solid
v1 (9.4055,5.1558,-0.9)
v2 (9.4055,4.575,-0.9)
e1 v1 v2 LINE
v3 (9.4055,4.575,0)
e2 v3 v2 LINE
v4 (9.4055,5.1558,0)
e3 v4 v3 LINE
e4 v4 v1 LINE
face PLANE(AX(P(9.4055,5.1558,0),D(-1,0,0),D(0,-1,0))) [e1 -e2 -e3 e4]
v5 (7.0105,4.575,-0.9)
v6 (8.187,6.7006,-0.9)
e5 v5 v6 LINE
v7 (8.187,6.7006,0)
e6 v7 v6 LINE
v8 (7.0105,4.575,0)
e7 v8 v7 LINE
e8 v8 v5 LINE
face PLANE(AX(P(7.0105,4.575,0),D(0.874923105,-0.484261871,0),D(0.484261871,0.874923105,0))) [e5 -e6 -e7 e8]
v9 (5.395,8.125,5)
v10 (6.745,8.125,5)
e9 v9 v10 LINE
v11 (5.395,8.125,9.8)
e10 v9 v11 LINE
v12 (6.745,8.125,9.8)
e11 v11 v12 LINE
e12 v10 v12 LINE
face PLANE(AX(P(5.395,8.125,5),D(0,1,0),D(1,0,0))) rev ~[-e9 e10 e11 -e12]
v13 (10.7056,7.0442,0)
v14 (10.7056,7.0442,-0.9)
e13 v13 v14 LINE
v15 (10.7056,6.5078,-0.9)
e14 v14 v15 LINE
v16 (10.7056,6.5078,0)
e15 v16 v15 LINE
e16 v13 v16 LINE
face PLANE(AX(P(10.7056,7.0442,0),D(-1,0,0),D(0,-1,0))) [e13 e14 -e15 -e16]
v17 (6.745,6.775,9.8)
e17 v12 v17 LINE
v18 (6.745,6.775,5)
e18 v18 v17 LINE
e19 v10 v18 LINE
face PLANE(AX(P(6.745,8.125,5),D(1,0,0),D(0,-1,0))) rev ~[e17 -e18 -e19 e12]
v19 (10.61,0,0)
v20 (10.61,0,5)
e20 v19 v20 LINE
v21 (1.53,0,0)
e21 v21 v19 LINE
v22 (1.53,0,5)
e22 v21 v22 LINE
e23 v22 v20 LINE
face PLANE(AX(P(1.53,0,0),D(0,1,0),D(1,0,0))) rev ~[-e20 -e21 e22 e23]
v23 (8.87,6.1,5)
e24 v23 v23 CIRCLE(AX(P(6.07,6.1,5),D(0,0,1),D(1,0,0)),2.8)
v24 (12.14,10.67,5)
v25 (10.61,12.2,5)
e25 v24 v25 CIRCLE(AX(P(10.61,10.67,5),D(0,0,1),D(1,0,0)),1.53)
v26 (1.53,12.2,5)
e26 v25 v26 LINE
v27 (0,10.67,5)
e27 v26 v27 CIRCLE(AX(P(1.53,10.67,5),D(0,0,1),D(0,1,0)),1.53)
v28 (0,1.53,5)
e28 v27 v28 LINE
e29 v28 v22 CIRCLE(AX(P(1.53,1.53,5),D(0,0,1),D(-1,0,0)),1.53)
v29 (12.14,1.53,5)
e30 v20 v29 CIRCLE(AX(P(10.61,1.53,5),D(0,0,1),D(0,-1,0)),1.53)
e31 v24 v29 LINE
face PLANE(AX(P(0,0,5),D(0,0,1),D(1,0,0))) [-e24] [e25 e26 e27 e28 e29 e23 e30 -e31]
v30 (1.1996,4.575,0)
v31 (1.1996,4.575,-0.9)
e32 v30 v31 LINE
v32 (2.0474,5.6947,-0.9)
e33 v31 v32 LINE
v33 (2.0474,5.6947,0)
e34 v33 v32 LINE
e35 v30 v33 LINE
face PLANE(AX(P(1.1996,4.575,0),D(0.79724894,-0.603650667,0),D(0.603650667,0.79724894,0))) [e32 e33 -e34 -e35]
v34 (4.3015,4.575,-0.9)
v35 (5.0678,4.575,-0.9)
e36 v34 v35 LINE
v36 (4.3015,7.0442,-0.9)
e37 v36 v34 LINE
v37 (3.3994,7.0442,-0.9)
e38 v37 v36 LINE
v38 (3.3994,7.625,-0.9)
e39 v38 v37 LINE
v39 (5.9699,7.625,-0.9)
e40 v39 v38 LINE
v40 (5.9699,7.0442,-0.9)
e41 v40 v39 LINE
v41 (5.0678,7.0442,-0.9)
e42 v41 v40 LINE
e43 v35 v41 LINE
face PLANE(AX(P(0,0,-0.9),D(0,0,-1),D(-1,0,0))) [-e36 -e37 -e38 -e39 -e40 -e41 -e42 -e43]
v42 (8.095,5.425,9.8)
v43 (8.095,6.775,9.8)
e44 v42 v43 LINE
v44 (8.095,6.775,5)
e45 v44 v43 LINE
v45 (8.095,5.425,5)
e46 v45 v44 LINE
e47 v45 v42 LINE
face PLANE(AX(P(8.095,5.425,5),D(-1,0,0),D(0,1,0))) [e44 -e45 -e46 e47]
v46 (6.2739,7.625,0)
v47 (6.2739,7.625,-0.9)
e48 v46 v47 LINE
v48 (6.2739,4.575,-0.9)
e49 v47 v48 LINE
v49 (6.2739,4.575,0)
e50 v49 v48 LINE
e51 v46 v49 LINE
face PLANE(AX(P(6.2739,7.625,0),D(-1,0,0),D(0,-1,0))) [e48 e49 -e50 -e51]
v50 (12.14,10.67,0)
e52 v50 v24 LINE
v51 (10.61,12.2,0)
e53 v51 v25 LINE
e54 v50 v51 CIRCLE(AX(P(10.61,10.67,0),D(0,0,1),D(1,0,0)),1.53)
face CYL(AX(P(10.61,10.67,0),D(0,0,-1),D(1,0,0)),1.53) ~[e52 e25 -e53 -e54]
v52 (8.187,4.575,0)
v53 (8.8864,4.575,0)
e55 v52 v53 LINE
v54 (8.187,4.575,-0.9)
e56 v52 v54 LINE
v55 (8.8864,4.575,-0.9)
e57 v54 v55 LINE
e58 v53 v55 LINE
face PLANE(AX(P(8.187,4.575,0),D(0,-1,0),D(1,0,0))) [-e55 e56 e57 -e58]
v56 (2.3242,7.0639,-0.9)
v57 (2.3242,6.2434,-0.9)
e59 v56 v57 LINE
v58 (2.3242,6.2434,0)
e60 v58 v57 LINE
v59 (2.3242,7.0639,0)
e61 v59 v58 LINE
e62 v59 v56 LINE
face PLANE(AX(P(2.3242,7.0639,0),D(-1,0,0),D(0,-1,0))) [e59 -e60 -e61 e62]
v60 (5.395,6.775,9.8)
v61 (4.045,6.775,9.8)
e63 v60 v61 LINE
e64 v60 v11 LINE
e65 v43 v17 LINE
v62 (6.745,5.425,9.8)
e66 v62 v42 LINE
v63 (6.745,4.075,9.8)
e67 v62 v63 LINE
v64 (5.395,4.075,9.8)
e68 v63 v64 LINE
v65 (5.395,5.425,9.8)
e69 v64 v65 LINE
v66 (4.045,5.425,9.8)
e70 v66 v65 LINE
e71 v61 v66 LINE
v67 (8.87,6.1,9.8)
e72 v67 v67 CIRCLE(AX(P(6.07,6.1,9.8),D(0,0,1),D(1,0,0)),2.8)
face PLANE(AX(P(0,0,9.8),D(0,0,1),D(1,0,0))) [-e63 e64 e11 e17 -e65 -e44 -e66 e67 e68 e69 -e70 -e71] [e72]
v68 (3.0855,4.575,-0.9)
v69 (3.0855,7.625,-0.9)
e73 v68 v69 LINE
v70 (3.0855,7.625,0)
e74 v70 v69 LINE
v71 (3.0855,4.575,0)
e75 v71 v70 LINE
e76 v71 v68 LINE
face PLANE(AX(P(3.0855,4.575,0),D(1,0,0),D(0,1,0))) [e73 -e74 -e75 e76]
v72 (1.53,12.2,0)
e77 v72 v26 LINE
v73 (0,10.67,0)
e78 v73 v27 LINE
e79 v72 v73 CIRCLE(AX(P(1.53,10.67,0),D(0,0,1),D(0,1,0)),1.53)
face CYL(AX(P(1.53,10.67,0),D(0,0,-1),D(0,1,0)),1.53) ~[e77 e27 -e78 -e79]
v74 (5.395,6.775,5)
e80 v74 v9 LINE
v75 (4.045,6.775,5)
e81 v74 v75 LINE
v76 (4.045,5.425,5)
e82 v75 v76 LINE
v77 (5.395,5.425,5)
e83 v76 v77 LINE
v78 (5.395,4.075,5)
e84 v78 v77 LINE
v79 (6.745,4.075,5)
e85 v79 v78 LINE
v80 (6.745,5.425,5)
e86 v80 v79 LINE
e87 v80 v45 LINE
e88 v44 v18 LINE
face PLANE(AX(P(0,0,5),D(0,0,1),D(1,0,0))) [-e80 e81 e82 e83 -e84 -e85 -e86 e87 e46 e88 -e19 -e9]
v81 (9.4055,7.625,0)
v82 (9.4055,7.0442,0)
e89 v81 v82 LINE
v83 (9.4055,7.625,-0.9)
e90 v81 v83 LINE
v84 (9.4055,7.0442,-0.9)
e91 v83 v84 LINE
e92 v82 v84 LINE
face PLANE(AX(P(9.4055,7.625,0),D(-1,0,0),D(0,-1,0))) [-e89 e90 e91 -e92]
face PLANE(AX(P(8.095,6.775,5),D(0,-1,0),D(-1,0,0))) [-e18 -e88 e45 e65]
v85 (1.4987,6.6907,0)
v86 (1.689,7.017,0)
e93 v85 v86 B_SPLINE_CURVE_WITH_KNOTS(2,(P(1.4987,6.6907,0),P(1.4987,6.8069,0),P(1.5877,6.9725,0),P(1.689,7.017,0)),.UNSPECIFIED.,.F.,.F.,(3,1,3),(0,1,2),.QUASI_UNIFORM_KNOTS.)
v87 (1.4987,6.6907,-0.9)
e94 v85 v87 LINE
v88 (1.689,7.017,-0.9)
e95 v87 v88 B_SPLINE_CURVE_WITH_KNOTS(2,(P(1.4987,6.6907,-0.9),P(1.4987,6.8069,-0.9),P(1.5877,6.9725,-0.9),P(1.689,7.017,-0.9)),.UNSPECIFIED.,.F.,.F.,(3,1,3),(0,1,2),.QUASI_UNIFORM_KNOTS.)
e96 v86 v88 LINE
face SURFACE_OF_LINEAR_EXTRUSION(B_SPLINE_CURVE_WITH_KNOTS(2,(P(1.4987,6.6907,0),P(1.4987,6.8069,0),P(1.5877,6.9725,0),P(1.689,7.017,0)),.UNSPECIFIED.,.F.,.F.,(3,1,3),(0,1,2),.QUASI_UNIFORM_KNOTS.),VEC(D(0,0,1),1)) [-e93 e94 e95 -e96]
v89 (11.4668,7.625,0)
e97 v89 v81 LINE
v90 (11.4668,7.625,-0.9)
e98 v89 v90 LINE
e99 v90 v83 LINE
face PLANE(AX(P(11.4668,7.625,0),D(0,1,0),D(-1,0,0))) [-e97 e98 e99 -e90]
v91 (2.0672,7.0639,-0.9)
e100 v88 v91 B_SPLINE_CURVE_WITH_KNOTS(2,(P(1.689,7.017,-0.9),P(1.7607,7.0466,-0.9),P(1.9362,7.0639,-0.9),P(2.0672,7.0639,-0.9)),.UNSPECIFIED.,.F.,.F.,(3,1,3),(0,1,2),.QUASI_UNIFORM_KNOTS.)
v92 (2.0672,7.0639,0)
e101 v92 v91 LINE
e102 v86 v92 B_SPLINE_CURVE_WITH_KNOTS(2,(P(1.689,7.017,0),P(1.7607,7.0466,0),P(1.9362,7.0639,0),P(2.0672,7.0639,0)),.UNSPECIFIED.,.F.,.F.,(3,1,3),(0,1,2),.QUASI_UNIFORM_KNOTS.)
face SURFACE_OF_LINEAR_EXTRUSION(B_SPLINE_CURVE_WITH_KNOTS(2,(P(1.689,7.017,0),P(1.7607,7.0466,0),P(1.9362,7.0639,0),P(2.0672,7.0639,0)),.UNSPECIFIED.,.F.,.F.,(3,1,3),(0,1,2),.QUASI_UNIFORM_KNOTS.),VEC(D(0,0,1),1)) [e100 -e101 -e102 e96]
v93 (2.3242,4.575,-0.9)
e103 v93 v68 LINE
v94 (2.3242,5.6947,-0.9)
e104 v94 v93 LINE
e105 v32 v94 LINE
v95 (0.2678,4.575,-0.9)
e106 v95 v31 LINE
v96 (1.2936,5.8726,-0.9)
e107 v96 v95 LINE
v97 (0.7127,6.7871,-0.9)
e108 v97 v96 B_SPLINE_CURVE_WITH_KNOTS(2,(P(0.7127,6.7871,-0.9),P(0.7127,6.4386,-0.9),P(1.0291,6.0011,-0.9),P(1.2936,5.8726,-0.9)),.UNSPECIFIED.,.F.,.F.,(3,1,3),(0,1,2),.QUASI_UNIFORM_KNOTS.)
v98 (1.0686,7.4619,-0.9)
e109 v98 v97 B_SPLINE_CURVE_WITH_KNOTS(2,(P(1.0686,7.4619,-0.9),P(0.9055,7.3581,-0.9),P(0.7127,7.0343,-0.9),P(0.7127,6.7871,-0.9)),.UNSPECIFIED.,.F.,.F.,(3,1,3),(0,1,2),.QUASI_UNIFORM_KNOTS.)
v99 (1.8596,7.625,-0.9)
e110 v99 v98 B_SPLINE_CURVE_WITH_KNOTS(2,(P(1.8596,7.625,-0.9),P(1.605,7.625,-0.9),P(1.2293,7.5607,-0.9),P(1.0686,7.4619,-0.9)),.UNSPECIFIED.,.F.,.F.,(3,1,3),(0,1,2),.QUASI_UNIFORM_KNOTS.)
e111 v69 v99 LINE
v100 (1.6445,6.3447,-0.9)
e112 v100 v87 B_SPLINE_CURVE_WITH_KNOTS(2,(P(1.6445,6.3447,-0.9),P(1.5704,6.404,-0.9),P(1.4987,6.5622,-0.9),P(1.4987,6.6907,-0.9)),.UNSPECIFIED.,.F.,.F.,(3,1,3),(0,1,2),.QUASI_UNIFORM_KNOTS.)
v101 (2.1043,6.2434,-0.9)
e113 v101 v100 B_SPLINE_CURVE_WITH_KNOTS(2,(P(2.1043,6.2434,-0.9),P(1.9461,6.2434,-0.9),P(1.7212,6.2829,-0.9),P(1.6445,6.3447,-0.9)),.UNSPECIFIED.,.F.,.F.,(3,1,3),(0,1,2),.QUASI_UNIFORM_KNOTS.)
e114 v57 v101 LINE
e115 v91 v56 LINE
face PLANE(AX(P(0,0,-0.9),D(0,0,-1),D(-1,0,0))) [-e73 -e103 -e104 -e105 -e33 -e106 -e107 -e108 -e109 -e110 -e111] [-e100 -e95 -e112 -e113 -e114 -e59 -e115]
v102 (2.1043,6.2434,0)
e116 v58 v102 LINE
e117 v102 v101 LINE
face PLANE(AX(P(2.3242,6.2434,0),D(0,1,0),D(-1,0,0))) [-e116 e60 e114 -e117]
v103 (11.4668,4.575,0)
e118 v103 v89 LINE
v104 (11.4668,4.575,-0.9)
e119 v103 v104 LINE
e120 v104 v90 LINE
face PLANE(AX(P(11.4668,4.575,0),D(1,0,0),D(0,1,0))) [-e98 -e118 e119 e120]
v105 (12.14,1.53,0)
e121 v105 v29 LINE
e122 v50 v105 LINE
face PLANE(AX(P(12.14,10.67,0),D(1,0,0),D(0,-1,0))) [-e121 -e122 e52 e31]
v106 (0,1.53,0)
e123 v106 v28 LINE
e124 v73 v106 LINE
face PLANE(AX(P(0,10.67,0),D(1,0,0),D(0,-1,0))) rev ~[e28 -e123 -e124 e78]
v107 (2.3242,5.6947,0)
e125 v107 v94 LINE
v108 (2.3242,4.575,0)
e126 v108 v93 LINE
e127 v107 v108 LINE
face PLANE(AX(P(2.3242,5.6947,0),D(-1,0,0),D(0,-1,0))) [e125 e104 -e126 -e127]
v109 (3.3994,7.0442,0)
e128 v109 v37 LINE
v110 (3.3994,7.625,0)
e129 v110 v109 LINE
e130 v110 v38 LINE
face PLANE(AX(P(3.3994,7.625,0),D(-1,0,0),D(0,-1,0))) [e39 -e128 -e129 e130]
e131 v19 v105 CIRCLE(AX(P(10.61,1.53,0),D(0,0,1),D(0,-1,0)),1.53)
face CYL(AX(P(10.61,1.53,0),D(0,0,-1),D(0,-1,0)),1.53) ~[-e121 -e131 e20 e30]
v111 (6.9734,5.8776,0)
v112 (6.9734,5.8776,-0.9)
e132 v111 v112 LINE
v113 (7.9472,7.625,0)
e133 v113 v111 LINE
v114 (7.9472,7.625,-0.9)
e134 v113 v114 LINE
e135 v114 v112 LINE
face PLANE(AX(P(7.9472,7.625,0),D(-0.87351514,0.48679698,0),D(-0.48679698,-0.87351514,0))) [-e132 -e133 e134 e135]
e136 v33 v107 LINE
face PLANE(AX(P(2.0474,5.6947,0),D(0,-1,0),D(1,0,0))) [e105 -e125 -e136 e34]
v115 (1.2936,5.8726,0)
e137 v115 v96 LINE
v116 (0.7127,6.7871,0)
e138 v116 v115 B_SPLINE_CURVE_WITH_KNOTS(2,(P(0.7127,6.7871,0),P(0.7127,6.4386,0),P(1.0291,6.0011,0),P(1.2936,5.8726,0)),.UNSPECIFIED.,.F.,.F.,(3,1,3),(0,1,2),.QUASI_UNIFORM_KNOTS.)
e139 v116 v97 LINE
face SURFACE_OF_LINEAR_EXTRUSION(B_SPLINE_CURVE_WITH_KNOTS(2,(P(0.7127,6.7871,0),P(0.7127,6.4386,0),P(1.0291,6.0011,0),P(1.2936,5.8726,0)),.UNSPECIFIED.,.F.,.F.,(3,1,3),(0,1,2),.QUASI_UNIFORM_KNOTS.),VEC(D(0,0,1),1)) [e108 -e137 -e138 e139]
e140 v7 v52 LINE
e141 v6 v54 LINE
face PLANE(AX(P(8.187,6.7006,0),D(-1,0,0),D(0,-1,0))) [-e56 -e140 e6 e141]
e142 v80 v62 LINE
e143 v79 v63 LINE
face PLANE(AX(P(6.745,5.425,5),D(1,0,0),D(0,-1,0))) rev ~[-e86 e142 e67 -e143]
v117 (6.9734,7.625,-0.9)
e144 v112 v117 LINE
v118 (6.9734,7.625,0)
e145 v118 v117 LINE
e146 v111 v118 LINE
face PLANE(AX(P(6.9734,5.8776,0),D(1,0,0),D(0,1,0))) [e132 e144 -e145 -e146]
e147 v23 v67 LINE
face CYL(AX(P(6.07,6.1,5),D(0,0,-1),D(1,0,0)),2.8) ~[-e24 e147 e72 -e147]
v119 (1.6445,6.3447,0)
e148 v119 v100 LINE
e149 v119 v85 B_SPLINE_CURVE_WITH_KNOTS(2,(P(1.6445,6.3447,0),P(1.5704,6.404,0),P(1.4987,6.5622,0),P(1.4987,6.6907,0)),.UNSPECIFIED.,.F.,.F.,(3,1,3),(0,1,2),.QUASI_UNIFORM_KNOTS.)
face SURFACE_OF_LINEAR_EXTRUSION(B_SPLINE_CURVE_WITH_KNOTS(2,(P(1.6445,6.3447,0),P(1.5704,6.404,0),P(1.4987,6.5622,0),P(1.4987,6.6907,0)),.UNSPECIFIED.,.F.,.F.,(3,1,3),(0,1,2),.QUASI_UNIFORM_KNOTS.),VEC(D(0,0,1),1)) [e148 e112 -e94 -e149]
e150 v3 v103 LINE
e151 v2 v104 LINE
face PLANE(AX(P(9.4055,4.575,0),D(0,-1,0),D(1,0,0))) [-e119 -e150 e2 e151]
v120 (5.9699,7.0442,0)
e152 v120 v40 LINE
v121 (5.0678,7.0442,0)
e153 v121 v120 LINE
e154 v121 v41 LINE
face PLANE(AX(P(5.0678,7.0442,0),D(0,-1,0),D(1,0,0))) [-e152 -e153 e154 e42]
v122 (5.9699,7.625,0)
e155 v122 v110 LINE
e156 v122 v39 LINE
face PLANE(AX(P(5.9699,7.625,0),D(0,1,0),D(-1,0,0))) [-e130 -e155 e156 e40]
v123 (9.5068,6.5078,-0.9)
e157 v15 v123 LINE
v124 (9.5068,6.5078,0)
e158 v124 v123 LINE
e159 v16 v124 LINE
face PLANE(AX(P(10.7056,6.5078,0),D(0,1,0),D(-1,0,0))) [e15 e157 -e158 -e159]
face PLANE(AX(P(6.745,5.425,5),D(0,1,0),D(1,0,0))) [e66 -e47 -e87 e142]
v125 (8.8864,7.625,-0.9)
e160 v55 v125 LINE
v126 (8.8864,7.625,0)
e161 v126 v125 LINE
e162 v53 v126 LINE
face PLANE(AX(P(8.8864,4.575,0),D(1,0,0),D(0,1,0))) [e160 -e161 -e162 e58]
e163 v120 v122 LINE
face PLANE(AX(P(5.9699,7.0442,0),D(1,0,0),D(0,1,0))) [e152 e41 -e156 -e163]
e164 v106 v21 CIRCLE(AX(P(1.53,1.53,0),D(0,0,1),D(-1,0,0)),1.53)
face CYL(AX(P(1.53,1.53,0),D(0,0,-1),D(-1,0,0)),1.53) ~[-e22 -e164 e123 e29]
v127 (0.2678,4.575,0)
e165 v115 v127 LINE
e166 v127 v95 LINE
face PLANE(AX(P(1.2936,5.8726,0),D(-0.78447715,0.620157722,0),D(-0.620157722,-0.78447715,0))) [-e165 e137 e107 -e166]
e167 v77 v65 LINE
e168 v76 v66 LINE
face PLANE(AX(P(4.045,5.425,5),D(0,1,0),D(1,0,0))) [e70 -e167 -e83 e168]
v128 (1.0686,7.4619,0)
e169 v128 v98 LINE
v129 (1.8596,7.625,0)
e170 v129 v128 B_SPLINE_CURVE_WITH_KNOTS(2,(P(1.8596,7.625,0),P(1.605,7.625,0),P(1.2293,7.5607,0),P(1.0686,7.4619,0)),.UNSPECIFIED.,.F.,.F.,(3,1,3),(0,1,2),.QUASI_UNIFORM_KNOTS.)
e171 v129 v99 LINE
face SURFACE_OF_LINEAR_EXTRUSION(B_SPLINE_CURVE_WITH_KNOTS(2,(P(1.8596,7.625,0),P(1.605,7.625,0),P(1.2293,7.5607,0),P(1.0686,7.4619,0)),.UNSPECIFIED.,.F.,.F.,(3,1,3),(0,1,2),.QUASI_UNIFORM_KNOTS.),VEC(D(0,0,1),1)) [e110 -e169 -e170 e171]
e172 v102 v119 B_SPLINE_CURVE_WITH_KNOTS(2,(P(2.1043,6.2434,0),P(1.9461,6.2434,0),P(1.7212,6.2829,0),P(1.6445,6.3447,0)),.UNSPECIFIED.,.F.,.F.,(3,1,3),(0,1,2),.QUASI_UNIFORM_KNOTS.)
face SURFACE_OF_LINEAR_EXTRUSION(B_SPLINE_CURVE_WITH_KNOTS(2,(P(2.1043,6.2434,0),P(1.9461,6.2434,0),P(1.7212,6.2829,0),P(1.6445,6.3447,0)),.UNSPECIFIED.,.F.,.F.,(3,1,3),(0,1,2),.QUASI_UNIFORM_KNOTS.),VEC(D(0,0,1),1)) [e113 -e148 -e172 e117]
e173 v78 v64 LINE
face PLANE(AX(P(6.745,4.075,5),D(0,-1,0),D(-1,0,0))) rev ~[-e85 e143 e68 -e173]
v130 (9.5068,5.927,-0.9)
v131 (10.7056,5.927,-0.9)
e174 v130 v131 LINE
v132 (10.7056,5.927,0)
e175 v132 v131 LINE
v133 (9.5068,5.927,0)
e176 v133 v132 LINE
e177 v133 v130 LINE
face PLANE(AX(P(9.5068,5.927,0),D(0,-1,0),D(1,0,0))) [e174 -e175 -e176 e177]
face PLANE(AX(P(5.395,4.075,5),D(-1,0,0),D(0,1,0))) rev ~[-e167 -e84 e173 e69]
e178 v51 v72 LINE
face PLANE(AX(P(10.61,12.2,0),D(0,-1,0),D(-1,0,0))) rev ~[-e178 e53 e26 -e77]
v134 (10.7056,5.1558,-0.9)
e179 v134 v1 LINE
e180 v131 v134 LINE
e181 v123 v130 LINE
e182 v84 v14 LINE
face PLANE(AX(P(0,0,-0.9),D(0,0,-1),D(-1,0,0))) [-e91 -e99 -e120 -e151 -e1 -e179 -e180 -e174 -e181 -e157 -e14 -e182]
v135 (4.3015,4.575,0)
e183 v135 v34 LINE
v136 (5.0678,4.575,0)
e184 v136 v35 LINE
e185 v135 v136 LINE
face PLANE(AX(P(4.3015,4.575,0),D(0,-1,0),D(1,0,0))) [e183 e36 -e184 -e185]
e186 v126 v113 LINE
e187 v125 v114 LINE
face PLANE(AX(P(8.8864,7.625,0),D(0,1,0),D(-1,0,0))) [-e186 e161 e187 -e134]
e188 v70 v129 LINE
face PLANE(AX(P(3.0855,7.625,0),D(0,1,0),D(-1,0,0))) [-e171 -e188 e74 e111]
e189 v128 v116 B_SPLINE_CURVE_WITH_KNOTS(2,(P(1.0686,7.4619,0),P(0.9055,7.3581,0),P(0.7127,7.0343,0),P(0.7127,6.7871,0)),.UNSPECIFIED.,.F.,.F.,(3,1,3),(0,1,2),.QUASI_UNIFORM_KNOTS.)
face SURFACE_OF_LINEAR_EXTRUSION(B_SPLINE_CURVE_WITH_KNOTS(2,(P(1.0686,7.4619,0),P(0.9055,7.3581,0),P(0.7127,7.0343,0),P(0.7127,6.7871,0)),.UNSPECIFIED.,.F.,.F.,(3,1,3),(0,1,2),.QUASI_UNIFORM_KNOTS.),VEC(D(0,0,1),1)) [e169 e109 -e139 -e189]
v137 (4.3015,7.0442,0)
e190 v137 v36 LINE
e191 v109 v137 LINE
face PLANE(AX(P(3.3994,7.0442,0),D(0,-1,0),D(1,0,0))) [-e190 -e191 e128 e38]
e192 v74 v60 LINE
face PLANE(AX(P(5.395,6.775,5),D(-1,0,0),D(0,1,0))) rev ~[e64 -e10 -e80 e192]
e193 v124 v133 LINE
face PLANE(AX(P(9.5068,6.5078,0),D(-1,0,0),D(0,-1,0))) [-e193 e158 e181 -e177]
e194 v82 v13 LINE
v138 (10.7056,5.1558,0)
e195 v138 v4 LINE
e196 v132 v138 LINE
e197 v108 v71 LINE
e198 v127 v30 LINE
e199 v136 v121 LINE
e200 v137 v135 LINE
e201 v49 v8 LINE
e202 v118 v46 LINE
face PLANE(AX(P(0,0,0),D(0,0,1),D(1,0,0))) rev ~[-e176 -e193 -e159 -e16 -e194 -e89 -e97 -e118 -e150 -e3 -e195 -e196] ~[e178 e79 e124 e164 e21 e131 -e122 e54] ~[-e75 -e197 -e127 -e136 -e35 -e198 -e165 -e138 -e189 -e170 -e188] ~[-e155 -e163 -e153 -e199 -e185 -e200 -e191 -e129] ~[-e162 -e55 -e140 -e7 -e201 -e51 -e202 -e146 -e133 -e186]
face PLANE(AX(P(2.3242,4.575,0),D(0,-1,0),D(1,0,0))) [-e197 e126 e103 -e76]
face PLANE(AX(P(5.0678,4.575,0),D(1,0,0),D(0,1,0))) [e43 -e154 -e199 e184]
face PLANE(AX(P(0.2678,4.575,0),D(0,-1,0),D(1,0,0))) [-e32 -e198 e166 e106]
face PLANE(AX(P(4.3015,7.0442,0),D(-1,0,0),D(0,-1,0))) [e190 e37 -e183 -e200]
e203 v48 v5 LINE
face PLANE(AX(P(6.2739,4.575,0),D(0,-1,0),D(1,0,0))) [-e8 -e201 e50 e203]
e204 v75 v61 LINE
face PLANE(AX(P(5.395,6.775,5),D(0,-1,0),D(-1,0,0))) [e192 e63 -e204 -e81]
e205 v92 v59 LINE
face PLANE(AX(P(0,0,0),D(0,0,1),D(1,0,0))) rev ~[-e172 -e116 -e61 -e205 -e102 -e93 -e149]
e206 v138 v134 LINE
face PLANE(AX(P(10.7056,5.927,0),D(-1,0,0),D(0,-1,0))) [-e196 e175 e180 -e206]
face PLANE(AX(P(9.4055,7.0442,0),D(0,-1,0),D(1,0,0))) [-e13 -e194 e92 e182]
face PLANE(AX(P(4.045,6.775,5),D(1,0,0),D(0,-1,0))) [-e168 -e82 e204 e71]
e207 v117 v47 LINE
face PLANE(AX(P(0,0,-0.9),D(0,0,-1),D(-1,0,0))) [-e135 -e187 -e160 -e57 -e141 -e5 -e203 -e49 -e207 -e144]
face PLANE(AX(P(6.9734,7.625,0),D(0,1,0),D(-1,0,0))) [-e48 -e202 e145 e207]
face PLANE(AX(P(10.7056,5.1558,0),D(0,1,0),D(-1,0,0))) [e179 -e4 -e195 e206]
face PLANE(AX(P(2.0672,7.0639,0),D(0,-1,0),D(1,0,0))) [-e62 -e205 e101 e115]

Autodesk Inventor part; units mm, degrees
ref_plane "YZ Plane" through (0, 0, 0) normal (1, 0, 0) x (0, 1, 0)
ref_plane "XZ Plane" through (0, 0, 0) normal (0, 1, 0) x (-1, 0, 0)
sketch "Sketch1" plane through (0, 0, 0) normal (0, 0, 1) x (1, 0, 0)
  line L0 (14.6962, 12.74) -> (14.6962, 0) construction
  line L1 (10.61, 12.2) -> (1.53, 12.2)
  arc A0 (1.53, 12.2) -> (0, 10.67) centre (1.53, 10.67) ccw
  line L2 (0, 10.67) -> (0, 1.53)
  arc A1 (0, 1.53) -> (1.53, 0) centre (1.53, 1.53) ccw
  line L3 (1.53, 0) -> (10.61, 0)
  arc A2 (10.61, 0) -> (12.14, 1.53) centre (10.61, 1.53) ccw
  arc A3 (12.14, 10.67) -> (10.61, 12.2) centre (10.61, 10.67) ccw
  line L4 (12.14, 10.67) -> (12.14, 1.53)
  point P0 (0, 0)
  point P1 (0, 0)
  dimension "d10" = 12.74
ref_plane "Work Plane1" through (0, 0, 5) normal (0, 0, 1) x (1, 0, 0)
sketch "Sketch2" plane through (0, 0, 5) normal (0, 0, 1) x (1, 0, 0)
  line L0 (10.88, 12.74) -> (1.8, 12.74) projected
  line L1 (10.88, 12.74) -> (1.8, 12.74) projected
  arc A0 (1.8, 12.74) -> (0, 10.94) centre (1.8, 10.94) ccw projected
  line L2 (0, 10.94) -> (0, 1.8) projected
  arc A1 (0, 1.8) -> (1.8, 0) centre (1.8, 1.8) ccw projected
  line L3 (1.8, 0) -> (10.88, 0) projected
  arc A2 (10.88, 0) -> (12.68, 1.8) centre (10.88, 1.8) ccw projected
  line L4 (12.68, 1.8) -> (12.68, 10.94) projected
  arc A3 (12.68, 10.94) -> (10.88, 12.74) centre (10.88, 10.94) ccw projected
  circle A4 centre (6.34, 6.37) radius 2.8
  line L5 (5.665, 8.395) -> (7.015, 8.395)
  line L6 (7.015, 4.345) -> (5.665, 4.345)
  line L7 (5.665, 4.345) -> (7.015, 8.395) construction
  line L8 (5.665, 8.395) -> (7.015, 4.345) construction
  line L9 (8.365, 5.695) -> (8.365, 7.045)
  line L10 (4.315, 7.045) -> (4.315, 5.695)
  line L11 (4.315, 5.695) -> (8.365, 7.045) construction
  line L12 (8.365, 5.695) -> (4.315, 7.045) construction
  line L13 (4.315, 5.695) -> (5.665, 5.695)
  line L14 (7.015, 5.695) -> (8.365, 5.695)
  line L15 (5.665, 4.345) -> (5.665, 5.695)
  line L16 (5.665, 7.045) -> (5.665, 8.395)
  line L17 (8.365, 7.045) -> (7.015, 7.045)
  line L18 (5.665, 7.045) -> (4.315, 7.045)
  line L19 (7.015, 8.395) -> (7.015, 7.045)
  line L20 (7.015, 5.695) -> (7.015, 4.345)
  point P0 (0, 0)
  dimension "d3" = 5.6
  dimension "d4" = 4.05
  dimension "d5" = 1.35
  dimension "d6" = 4.05
  dimension "d7" = 1.35
extrude "Extrusion3" add sketch "Sketch1" along normal blind 5
sketch "Sketch3" plane through (0, 0, 5) normal (0, 0, 1) x (1, 0, 0)
  line L0 (10.61, 12.47) -> (1.53, 12.47)
  line L1 (10.61, 12.47) -> (1.53, 12.47)
  arc A0 (1.53, 12.47) -> (-0.27, 10.67) centre (1.53, 10.67) ccw
  line L2 (-0.27, 10.67) -> (-0.27, 1.53)
  arc A1 (-0.27, 1.53) -> (1.53, -0.27) centre (1.53, 1.53) ccw
  line L3 (1.53, -0.27) -> (10.61, -0.27)
  arc A2 (10.61, -0.27) -> (12.41, 1.53) centre (10.61, 1.53) ccw
  line L4 (12.41, 1.53) -> (12.41, 10.67)
  arc A3 (12.41, 10.67) -> (10.61, 12.47) centre (10.61, 10.67) ccw
  circle A4 centre (6.07, 6.1) radius 2.8
  line L5 (5.395, 8.125) -> (6.745, 8.125)
  line L6 (6.745, 4.075) -> (5.395, 4.075)
  line L7 (5.395, 4.075) -> (6.745, 8.125) construction
  line L8 (5.395, 8.125) -> (6.745, 4.075) construction
  line L9 (8.095, 5.425) -> (8.095, 6.775)
  line L10 (4.045, 6.775) -> (4.045, 5.425)
  line L11 (4.045, 5.425) -> (8.095, 6.775) construction
  line L12 (8.095, 5.425) -> (4.045, 6.775) construction
  line L13 (4.045, 5.425) -> (5.395, 5.425)
  line L14 (6.745, 5.425) -> (8.095, 5.425)
  line L15 (5.395, 4.075) -> (5.395, 5.425)
  line L16 (5.395, 6.775) -> (5.395, 8.125)
  line L17 (8.095, 6.775) -> (6.745, 6.775)
  line L18 (5.395, 6.775) -> (4.045, 6.775)
  line L19 (6.745, 8.125) -> (6.745, 6.775)
  line L20 (6.745, 5.425) -> (6.745, 4.075)
  line L21 (10.61, 12.2) -> (1.53, 12.2) projected
  line L22 (0, 10.67) -> (0, 1.53) projected
  point P0 (0, 0)
  point P1 (-0.27, -0.27)
  point P2 (6.07, 12.2)
  point P3 (0, 6.1)
  point P4 (6.07, 6.1)
  dimension "d14" = 5.6
  dimension "d15" = 4.05
  dimension "d16" = 1.35
  dimension "d17" = 4.05
  dimension "d18" = 1.35
extrude "Extrusion4" add sketch "Sketch3" along normal blind 4.8 contours A4
sketch "Sketch4" plane through (0, 0, 0) normal (0, 0, -1) x (-1, 0, 0)
  line L0 (-13.9436, 0) -> (-13.9436, 2.266)
  line L1 (-15.5559, 0) -> (-15.5559, 6.84)
  line L2 (-1.53, 0) -> (-10.61, 0) projected
  line L3 (-11.7832, 7.625) -> (-0.3568, 7.625) construction
  line L4 (-0.3568, 7.625) -> (-0.3568, 4.575) construction
  line L5 (-0.3568, 4.575) -> (-11.7832, 4.575) construction
  line L6 (-11.7832, 4.575) -> (-11.7832, 7.625) construction
  line L7 (-11.4668, 4.575) -> (-11.4668, 7.625)
  line L8 (-11.4668, 7.625) -> (-9.4055, 7.625)
  line L9 (-9.4055, 7.625) -> (-9.4055, 7.0442)
  line L10 (-9.4055, 7.0442) -> (-10.7056, 7.0442)
  line L11 (-10.7056, 7.0442) -> (-10.7056, 6.5078)
  line L12 (-10.7056, 6.5078) -> (-9.5068, 6.5078)
  line L13 (-9.5068, 6.5078) -> (-9.5068, 5.927)
  line L14 (-9.5068, 5.927) -> (-10.7056, 5.927)
  line L15 (-10.7056, 5.927) -> (-10.7056, 5.1558)
  line L16 (-10.7056, 5.1558) -> (-9.4055, 5.1558)
  line L17 (-9.4055, 5.1558) -> (-9.4055, 4.575)
  line L18 (-9.4055, 4.575) -> (-11.4668, 4.575)
  line L19 (-6.2739, 4.575) -> (-7.0105, 4.575)
  line L20 (-7.0105, 4.575) -> (-8.187, 6.7006)
  line L21 (-8.187, 6.7006) -> (-8.187, 4.575)
  line L22 (-8.187, 4.575) -> (-8.8864, 4.575)
  line L23 (-8.8864, 4.575) -> (-8.8864, 7.625)
  line L24 (-8.8864, 7.625) -> (-7.9472, 7.625)
  line L25 (-7.9472, 7.625) -> (-6.9734, 5.8776)
  line L26 (-6.9734, 5.8776) -> (-6.9734, 7.625)
  line L27 (-6.9734, 7.625) -> (-6.2739, 7.625)
  line L28 (-6.2739, 7.625) -> (-6.2739, 4.575)
  line L29 (-5.0678, 4.575) -> (-5.0678, 7.0442)
  line L30 (-5.0678, 7.0442) -> (-5.9699, 7.0442)
  line L31 (-5.9699, 7.0442) -> (-5.9699, 7.625)
  line L32 (-5.9699, 7.625) -> (-3.3994, 7.625)
  line L33 (-3.3994, 7.625) -> (-3.3994, 7.0442)
  line L34 (-3.3994, 7.0442) -> (-4.3015, 7.0442)
  line L35 (-4.3015, 7.0442) -> (-4.3015, 4.575)
  line L36 (-4.3015, 4.575) -> (-5.0678, 4.575)
  line L37 (-0.2678, 4.575) -> (-1.1996, 4.575)
  line L38 (-1.1996, 4.575) -> (-2.0474, 5.6947)
  line L39 (-2.0474, 5.6947) -> (-2.3242, 5.6947)
  line L40 (-2.3242, 5.6947) -> (-2.3242, 4.575)
  line L41 (-2.3242, 4.575) -> (-3.0855, 4.575)
  line L42 (-3.0855, 4.575) -> (-3.0855, 7.625)
  line L43 (-3.0855, 7.625) -> (-1.8596, 7.625)
  spline S0 degree 2 poles (-1.8596, 7.625) (-1.605, 7.625) (-1.2293, 7.5607) (-1.0686, 7.4619) knots 0 0 0 1 2 2 2
  spline S1 degree 2 poles (-1.0686, 7.4619) (-0.9055, 7.3581) (-0.7127, 7.0343) (-0.7127, 6.7871) knots 0 0 0 1 2 2 2
  spline S2 degree 2 poles (-0.7127, 6.7871) (-0.7127, 6.4386) (-1.0291, 6.0011) (-1.2936, 5.8726) knots 0 0 0 1 2 2 2
  line L44 (-1.2936, 5.8726) -> (-0.2678, 4.575)
  spline S3 degree 2 poles (-1.4987, 6.6907) (-1.4987, 6.8069) (-1.5877, 6.9725) (-1.689, 7.017) knots 0 0 0 1 2 2 2
  spline S4 degree 2 poles (-1.689, 7.017) (-1.7607, 7.0466) (-1.9362, 7.0639) (-2.0672, 7.0639) knots 0 0 0 1 2 2 2
  line L45 (-2.0672, 7.0639) -> (-2.3242, 7.0639)
  line L46 (-2.3242, 7.0639) -> (-2.3242, 6.2434)
  line L47 (-2.3242, 6.2434) -> (-2.1043, 6.2434)
  spline S5 degree 2 poles (-2.1043, 6.2434) (-1.9461, 6.2434) (-1.7212, 6.2829) (-1.6445, 6.3447) knots 0 0 0 1 2 2 2
  spline S6 degree 2 poles (-1.6445, 6.3447) (-1.5704, 6.404) (-1.4987, 6.5622) (-1.4987, 6.6907) knots 0 0 0 1 2 2 2
  point P0 (0, 0)
  point P1 (-6.07, 0)
  point P2 (-6.07, 2.266)
  point P3 (-6.07, 6.84)
  point P4 (-6.07, 6.1)
  point P5 (-6.07, 4.575)
  point P6 (-0.3568, 6.1)
  point P7 (-6.07, 6.1)
  dimension "d21" = 2.266
  dimension "d22" = 6.84
extrude "Extrusion5" add sketch "Sketch4" along normal blind 0.9
properties part number "IPC ENTR key"
